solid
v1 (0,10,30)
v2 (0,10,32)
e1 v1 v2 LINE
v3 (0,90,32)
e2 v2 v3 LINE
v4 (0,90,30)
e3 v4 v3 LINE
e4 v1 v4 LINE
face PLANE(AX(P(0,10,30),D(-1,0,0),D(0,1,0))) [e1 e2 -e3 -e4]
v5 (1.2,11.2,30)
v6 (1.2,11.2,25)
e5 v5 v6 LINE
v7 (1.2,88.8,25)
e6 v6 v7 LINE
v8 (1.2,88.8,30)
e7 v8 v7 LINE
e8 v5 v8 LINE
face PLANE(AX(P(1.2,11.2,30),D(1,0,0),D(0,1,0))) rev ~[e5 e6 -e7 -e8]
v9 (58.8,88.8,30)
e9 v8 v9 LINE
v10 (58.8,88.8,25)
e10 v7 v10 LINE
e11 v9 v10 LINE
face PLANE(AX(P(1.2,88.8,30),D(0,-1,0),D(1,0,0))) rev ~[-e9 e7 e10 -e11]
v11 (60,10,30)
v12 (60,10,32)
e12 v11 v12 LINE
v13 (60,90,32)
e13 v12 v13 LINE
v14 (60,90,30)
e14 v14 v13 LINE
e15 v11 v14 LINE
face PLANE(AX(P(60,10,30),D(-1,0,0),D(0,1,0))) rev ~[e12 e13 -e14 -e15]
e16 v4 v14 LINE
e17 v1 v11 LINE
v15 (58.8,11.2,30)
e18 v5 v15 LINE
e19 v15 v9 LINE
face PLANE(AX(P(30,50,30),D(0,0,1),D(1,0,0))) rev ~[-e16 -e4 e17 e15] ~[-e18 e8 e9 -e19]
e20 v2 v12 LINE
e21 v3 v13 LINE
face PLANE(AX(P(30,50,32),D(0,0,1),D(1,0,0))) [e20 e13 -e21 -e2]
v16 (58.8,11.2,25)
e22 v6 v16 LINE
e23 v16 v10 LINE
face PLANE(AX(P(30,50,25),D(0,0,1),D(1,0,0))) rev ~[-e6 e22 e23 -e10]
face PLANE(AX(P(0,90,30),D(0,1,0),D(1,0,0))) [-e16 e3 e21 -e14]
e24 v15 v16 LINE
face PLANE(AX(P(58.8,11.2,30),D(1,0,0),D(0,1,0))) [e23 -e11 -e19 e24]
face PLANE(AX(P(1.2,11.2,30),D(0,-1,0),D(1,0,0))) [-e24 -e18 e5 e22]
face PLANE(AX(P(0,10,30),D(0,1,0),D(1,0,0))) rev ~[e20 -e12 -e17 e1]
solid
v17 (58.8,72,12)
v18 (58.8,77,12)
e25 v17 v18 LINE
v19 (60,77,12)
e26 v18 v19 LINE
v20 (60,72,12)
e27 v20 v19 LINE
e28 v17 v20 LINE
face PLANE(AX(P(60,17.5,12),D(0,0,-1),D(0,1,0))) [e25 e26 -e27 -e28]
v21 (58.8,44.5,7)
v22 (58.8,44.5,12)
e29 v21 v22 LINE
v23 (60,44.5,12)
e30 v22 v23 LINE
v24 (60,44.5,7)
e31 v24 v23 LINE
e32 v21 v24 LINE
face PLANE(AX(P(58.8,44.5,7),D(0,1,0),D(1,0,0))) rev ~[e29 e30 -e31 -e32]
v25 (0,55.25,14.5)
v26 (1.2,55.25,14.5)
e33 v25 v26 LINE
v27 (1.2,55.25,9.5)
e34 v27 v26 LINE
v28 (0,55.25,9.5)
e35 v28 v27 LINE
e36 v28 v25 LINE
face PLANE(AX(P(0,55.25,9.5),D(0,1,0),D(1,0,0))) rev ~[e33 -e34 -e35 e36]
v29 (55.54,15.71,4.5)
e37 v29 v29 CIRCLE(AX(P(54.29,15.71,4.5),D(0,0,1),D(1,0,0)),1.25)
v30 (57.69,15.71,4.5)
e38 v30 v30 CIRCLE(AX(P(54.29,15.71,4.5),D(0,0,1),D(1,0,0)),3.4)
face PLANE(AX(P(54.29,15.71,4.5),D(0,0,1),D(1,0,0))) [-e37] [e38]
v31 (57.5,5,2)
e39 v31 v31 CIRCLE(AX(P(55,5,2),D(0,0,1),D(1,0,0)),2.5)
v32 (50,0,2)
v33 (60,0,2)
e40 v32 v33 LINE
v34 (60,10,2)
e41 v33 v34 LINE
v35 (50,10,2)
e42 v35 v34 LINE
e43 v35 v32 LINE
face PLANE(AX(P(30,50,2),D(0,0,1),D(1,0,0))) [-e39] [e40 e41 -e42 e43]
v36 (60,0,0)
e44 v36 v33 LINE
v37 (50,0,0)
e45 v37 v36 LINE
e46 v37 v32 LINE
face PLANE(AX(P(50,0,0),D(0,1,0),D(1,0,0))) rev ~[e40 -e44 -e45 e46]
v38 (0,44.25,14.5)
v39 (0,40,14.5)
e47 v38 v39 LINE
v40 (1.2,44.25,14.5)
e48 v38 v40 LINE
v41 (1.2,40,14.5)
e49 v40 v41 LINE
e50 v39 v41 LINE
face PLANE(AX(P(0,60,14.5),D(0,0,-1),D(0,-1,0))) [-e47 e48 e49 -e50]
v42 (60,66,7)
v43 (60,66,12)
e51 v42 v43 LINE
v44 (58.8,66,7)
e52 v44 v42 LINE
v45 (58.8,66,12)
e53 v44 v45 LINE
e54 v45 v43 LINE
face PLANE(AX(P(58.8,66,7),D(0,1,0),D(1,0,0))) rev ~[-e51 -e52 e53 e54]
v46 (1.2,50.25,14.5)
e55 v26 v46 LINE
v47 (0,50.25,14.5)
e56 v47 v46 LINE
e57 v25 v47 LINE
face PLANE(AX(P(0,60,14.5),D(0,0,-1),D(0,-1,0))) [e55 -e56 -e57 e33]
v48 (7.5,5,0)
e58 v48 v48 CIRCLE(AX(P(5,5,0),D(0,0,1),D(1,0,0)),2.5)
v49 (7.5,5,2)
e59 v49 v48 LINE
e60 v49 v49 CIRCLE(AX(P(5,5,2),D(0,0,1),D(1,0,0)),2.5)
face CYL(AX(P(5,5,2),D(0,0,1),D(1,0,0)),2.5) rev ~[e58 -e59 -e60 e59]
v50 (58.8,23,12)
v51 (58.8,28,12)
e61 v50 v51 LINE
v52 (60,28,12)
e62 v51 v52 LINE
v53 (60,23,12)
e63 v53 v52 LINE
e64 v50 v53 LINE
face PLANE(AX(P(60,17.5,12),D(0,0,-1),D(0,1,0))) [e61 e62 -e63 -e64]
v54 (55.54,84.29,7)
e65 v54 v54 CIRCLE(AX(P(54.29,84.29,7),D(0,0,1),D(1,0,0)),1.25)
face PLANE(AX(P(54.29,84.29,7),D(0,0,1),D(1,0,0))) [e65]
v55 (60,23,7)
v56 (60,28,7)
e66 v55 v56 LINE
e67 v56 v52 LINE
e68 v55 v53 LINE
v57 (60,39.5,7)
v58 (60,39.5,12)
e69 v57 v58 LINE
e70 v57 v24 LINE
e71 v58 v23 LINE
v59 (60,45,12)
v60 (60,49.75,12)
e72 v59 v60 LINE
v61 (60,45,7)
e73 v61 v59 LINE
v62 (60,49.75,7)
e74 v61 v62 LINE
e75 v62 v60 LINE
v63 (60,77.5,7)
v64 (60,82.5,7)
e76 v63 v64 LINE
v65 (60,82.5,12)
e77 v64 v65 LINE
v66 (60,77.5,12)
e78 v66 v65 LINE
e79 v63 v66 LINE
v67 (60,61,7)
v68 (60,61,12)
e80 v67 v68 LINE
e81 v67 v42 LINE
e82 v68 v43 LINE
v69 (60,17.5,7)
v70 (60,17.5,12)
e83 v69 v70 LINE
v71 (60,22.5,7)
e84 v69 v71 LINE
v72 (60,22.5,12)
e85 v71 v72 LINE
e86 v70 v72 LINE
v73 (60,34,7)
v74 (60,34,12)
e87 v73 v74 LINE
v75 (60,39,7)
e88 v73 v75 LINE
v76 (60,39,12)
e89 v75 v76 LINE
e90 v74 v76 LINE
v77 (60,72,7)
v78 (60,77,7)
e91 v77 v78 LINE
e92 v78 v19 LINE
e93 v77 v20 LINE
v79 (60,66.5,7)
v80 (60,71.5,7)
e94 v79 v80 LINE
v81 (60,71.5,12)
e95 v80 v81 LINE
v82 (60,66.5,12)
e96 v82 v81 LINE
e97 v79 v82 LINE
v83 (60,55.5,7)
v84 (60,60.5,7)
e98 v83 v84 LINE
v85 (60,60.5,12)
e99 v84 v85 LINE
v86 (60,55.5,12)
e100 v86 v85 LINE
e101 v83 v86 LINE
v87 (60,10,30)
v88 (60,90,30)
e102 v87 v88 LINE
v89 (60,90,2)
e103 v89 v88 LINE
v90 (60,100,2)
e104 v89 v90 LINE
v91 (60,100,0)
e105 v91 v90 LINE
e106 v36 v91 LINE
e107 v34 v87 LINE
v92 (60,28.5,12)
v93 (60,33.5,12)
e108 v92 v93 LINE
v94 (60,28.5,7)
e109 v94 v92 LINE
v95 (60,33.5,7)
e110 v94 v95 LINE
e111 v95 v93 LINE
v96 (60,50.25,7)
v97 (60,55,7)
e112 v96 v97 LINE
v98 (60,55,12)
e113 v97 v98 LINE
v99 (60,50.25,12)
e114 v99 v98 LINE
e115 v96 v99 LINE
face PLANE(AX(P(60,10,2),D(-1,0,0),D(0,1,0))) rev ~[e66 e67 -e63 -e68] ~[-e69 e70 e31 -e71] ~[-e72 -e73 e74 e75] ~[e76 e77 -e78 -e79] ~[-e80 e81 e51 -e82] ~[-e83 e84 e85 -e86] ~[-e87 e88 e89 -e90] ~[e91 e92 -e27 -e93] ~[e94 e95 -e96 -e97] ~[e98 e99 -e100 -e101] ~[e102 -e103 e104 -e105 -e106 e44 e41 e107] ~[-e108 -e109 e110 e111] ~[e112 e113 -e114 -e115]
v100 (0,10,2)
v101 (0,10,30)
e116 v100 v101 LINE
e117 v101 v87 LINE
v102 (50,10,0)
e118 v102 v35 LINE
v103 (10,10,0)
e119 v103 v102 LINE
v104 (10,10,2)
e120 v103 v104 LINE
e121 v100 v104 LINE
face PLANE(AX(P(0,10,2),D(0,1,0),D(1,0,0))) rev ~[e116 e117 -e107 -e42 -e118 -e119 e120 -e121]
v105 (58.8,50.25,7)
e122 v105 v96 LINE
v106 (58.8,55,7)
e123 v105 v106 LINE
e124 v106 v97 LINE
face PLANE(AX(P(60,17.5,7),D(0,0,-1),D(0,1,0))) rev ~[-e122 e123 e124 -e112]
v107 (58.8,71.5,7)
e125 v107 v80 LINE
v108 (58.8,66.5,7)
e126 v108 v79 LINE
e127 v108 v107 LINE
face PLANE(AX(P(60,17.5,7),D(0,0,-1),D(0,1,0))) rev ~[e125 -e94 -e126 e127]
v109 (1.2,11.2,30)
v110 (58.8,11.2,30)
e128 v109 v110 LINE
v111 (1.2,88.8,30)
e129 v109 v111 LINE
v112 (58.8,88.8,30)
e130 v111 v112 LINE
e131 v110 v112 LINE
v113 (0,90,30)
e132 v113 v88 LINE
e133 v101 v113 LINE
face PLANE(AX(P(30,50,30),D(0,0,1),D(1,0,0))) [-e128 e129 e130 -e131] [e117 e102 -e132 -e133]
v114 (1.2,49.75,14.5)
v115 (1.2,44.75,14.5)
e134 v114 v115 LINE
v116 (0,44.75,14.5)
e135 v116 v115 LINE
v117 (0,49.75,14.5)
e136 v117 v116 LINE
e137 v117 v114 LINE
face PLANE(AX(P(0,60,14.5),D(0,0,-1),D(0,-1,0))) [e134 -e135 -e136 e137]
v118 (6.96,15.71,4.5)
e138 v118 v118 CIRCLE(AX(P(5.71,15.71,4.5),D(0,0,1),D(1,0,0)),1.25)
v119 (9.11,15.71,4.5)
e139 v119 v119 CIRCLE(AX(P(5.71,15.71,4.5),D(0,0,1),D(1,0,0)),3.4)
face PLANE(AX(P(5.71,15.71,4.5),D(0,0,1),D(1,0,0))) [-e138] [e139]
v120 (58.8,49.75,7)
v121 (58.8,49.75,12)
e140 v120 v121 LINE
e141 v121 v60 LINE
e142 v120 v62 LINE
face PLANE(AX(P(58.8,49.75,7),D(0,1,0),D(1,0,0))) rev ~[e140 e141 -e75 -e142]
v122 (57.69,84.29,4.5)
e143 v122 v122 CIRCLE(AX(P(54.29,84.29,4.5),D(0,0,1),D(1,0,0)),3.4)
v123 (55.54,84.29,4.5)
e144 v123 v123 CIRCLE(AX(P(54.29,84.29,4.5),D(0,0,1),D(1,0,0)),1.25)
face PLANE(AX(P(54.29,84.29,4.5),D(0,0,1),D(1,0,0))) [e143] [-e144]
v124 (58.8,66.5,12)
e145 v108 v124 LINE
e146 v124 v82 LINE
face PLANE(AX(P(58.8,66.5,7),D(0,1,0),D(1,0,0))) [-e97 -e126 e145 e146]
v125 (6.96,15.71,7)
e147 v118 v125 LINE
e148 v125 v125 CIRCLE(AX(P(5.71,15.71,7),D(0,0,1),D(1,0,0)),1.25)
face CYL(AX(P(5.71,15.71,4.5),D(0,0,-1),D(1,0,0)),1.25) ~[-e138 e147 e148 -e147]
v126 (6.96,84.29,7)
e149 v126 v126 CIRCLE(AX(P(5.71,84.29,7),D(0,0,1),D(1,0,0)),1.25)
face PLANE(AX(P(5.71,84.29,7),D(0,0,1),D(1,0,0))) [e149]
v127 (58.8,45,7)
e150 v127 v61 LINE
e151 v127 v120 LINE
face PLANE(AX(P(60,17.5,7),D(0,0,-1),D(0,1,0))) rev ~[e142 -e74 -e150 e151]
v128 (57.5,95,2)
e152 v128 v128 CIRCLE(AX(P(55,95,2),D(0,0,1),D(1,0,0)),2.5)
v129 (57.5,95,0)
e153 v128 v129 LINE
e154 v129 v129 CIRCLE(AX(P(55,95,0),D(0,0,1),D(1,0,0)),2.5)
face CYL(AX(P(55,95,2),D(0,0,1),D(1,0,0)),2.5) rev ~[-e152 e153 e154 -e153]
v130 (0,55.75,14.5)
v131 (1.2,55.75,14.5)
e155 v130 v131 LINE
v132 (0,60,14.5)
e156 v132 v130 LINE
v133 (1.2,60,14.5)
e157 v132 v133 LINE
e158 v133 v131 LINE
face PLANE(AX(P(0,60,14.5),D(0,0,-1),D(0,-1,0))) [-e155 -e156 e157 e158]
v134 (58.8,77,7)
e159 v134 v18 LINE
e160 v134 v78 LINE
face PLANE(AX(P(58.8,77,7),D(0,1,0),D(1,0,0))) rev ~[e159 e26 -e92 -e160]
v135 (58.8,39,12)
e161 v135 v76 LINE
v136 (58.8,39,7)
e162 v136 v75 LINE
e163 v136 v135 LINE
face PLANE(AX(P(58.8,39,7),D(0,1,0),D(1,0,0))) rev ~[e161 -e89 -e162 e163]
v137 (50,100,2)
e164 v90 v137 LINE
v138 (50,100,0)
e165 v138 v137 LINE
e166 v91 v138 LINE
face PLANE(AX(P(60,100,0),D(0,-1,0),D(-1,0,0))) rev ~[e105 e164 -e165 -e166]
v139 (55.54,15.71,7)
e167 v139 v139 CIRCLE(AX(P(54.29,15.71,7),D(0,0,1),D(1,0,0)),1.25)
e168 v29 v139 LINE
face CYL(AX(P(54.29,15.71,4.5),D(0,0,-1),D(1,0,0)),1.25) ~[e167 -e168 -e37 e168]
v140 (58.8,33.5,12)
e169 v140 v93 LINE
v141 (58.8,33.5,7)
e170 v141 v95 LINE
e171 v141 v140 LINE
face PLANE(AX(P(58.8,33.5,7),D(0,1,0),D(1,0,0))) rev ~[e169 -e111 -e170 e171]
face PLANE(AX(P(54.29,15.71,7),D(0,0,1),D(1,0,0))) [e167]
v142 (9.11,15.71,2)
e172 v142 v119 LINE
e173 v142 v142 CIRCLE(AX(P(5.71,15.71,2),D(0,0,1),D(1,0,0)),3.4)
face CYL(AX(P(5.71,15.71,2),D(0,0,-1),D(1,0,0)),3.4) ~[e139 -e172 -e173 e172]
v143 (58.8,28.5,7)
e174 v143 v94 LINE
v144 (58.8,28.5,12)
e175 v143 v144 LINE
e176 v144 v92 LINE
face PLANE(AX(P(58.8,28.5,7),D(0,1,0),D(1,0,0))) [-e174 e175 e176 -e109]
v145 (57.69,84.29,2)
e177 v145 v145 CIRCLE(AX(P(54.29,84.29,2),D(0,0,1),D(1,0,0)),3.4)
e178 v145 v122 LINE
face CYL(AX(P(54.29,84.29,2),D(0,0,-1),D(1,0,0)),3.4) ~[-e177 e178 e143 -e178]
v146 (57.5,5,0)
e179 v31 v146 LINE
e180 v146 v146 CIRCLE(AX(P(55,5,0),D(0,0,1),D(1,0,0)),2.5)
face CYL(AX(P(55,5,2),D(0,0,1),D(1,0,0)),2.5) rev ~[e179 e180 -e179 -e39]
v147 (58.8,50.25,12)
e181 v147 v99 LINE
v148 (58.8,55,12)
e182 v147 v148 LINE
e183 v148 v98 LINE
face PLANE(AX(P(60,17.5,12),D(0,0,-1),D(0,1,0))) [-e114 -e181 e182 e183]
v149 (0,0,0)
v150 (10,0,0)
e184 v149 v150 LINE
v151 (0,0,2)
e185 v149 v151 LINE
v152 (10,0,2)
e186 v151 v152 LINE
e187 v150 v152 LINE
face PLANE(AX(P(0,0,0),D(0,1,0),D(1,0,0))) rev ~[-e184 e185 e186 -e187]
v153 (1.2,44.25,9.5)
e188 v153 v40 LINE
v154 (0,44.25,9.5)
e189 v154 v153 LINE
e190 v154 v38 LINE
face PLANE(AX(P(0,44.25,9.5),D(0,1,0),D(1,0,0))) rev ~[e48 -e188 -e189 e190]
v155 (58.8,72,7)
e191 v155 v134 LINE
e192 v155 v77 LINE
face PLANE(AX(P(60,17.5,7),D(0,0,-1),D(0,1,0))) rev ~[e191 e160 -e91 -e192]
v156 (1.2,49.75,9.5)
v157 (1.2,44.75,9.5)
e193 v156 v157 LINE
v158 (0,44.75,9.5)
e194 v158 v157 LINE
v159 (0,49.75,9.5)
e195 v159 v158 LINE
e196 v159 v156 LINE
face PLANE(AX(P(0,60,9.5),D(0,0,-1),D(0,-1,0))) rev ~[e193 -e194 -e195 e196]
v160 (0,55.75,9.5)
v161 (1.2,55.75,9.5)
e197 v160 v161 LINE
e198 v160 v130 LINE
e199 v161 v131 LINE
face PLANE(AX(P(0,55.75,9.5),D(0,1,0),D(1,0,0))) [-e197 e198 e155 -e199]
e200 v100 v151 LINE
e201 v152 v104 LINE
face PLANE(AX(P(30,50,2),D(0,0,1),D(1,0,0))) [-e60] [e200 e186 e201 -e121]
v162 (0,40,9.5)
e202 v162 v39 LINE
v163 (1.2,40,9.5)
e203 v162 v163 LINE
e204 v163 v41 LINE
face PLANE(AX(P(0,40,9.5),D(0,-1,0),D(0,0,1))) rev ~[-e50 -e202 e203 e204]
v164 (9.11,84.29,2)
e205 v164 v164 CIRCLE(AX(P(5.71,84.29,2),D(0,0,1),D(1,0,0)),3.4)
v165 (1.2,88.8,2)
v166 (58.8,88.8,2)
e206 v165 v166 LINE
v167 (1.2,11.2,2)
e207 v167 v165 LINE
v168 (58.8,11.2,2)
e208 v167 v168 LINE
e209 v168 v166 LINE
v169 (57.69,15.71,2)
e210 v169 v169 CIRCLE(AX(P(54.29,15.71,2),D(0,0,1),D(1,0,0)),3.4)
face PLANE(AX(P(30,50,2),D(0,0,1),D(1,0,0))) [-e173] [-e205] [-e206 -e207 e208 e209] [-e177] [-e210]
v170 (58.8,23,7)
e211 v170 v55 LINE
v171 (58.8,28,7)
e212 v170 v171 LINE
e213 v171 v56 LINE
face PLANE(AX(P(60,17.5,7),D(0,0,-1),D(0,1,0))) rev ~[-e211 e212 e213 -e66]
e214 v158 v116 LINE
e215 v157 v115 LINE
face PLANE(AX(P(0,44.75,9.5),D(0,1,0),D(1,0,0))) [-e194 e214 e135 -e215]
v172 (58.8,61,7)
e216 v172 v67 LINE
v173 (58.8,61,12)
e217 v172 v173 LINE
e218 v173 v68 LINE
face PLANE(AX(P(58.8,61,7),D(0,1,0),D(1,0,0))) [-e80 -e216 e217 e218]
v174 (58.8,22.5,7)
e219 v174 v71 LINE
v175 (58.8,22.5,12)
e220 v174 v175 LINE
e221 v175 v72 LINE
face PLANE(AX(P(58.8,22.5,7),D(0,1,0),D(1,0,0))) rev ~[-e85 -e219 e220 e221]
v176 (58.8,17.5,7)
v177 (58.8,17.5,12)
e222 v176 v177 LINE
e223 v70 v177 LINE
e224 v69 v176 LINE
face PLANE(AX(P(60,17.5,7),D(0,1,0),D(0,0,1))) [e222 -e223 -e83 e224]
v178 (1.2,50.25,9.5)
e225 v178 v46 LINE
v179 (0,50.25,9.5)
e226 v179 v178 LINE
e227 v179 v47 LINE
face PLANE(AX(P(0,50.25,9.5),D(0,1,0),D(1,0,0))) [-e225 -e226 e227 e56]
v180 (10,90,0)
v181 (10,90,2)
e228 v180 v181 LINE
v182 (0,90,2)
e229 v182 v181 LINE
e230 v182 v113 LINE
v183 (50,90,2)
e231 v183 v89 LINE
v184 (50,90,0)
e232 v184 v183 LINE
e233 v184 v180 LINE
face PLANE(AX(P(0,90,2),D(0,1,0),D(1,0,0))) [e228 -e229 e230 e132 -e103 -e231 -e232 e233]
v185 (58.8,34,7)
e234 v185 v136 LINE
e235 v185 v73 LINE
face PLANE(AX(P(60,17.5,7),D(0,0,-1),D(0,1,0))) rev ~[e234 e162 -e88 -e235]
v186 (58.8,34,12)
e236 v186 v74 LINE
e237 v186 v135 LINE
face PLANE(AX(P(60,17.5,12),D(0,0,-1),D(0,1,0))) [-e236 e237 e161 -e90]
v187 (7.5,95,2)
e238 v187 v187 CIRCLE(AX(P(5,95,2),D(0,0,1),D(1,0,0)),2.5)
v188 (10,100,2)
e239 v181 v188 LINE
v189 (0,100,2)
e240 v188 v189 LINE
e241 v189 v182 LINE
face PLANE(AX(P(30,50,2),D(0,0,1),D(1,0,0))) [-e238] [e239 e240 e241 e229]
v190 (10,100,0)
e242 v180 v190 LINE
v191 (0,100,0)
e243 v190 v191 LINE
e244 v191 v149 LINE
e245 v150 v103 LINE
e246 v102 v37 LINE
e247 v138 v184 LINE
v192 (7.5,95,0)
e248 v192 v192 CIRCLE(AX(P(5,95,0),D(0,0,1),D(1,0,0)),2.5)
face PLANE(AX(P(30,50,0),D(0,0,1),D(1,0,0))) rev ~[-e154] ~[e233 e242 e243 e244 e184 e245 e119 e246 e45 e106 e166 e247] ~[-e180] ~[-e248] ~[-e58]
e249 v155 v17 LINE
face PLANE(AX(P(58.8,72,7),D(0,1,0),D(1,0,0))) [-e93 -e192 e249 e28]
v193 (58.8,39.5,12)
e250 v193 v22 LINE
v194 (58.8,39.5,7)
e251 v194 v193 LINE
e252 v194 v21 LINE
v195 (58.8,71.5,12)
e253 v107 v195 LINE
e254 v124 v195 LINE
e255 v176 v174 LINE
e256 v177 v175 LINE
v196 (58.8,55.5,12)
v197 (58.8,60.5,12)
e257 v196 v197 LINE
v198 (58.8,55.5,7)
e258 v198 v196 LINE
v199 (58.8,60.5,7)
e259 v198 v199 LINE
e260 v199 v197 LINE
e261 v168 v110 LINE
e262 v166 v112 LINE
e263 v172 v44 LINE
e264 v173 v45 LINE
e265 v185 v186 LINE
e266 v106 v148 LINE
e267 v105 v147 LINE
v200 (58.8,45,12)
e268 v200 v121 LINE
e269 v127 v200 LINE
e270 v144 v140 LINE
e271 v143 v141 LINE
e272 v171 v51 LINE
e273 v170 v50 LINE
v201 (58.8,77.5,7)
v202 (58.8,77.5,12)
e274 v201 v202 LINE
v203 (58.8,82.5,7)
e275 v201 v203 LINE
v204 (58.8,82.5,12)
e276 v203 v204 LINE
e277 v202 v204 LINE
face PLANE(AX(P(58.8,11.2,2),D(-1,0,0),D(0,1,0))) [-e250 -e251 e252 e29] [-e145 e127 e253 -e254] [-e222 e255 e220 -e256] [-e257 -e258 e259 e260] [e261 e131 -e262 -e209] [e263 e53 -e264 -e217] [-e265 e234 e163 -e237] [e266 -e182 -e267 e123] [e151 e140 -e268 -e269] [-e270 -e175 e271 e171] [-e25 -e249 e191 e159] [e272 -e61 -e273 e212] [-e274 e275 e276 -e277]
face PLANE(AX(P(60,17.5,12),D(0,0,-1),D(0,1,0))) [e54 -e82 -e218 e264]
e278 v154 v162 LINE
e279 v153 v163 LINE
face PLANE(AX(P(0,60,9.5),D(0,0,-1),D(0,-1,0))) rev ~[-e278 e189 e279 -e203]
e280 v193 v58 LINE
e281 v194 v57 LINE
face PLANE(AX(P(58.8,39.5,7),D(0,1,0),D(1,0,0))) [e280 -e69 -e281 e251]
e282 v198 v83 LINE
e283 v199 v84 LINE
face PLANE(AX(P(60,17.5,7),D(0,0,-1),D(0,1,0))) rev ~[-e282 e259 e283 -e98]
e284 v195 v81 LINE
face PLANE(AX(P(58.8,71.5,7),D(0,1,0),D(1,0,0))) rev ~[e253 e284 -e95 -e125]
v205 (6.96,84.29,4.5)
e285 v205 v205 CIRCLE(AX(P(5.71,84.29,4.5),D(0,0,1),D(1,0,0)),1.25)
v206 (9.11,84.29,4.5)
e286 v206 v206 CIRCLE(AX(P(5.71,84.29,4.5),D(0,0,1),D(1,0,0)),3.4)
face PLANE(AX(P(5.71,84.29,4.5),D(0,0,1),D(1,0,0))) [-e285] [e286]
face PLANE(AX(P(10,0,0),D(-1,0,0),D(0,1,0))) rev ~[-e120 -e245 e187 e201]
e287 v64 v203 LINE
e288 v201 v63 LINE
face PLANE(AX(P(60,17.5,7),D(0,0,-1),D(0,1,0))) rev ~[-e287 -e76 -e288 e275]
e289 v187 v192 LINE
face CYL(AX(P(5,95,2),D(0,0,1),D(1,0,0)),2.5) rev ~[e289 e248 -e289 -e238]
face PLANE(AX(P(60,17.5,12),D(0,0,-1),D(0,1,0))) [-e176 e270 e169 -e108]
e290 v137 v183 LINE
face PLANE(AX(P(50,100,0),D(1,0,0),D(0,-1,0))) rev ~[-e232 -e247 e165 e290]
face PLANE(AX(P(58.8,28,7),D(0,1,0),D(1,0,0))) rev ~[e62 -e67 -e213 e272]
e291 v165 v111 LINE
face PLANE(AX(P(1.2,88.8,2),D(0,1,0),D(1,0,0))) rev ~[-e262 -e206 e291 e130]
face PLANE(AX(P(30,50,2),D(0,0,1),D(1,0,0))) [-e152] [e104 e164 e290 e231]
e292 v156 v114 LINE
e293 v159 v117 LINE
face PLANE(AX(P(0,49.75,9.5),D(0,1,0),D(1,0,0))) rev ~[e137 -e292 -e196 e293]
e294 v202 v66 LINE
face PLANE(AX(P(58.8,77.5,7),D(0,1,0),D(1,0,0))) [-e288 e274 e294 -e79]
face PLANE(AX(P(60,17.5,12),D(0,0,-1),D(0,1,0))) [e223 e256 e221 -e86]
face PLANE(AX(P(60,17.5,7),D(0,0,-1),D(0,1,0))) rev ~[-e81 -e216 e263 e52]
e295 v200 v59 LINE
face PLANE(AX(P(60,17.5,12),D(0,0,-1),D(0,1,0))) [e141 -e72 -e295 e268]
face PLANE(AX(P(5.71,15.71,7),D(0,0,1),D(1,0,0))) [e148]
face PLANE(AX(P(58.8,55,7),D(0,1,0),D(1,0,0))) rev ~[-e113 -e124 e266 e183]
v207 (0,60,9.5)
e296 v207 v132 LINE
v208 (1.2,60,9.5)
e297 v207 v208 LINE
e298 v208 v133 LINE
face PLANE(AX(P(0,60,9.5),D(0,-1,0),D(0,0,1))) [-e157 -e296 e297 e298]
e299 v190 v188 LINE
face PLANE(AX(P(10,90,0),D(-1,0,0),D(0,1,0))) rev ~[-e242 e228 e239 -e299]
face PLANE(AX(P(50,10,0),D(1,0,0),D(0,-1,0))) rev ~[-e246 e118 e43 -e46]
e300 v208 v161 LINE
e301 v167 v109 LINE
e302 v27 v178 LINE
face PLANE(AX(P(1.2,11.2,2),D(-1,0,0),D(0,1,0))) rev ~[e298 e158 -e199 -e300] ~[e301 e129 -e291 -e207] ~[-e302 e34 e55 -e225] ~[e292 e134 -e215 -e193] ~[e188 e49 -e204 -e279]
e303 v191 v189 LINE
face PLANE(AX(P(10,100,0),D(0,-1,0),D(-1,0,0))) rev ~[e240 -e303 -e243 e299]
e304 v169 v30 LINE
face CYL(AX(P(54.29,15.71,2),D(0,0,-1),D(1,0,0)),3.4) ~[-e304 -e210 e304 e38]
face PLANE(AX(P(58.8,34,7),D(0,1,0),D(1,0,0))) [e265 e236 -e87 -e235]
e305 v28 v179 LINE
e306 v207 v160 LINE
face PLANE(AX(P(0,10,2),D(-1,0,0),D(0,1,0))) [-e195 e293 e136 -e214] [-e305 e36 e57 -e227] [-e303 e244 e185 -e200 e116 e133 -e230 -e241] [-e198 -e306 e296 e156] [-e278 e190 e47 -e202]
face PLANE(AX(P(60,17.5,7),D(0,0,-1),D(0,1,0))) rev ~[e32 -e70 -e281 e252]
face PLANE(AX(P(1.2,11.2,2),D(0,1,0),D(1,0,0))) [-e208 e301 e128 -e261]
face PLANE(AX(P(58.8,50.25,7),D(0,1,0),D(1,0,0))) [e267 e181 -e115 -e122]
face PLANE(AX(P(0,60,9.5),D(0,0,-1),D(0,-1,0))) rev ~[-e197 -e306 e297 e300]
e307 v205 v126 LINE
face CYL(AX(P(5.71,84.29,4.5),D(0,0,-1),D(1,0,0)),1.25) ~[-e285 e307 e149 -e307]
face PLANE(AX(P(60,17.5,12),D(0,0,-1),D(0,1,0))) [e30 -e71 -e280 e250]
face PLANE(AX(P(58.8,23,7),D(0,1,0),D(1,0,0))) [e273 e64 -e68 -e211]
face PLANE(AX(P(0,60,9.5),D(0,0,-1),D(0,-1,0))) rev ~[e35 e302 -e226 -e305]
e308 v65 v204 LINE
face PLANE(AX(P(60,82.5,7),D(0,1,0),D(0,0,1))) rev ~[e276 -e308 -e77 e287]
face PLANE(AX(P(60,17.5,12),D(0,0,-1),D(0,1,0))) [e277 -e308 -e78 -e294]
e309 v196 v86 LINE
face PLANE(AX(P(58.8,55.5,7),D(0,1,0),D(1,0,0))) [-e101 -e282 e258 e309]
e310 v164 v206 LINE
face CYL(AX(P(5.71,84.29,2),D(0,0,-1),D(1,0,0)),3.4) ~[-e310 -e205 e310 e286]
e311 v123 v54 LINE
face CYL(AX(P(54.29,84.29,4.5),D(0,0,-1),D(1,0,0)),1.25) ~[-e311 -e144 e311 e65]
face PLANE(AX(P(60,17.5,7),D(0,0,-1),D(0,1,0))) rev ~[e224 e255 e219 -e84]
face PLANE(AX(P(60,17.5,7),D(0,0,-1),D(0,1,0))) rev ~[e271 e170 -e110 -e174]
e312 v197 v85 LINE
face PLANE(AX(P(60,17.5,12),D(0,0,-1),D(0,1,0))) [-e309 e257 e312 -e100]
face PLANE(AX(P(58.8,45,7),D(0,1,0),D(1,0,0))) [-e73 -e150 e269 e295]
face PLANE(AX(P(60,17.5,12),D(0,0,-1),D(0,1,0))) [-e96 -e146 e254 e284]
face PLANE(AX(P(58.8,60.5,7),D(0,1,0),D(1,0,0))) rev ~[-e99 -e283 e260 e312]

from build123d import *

# Parameters (mm, degrees)
F1_DEPTH  = 2
F2_W      = 60
F2_H      = 80
F2_W_2    = 57.6
F2_H_2    = 77.6
F3_DEPTH  = 28
F7_R      = 2.5
F6_R      = 2.5
F5_R      = 2.5
F4_R      = 2.5
F8_DEPTH  = 2
F9_R      = 3.4
F10_DEPTH = 2.5
F14_R     = 1.25
F13_R     = 1.25
F11_R     = 1.25
F12_R     = 1.25
F15_DEPTH = 2.5
F16_W     = 65
F16_H     = 5
F17_DEPTH = 1.2
F18_W     = 1.2
F18_H     = 0.5
F19_DEPTH = 5
F20_W     = 20
F20_H     = 5
F21_DEPTH = 1.2
F22_W     = 60
F22_H     = 80
F23_DEPTH = 2
F24_W     = 57.6
F24_H     = 77.6
F25_DEPTH = 5
F26_W     = 1.2
F26_H     = 0.5
F27_DEPTH = 5


with BuildPart() as f1:
    # F0 (on Top) → F1 (new body)
    with BuildSketch(Plane.XY):
        Polygon((0, 100), (0, 0), (10, 0), (10, 10), (50, 10), (50, 0), (60, 0), (60, 100), (50, 100), (50, 90), (10, 90), (10, 100), align=None)
    extrude(amount=F1_DEPTH)

    # F2 (on face) → F3 (join)
    with BuildSketch(Plane.XY.offset(2)):
        with Locations((30, 50)):
            Rectangle(F2_W, F2_H)
        with Locations((30, 50)):
            Rectangle(F2_W_2, F2_H_2, mode=Mode.SUBTRACT)
    extrude(amount=F3_DEPTH)

    # F7 (on face) + F6 (on face) + F5 (on face) + F4 (on face) → F8 (cut, through all)
    with BuildSketch(Plane.XY.offset(2)):
        with Locations((5, 95)):
            Circle(F7_R)
    with BuildSketch(Plane.XY.offset(2)):
        with Locations((55, 95)):
            Circle(F6_R)
    with BuildSketch(Plane.XY.offset(2)):
        with Locations((55, 5)):
            Circle(F5_R)
    with BuildSketch(Plane.XY.offset(2)):
        with Locations((5, 5)):
            Circle(F4_R)
    extrude(amount=-F8_DEPTH, mode=Mode.SUBTRACT)

    # F9 (on face) → F10 (join)
    with BuildSketch(Plane.XY.offset(2)):
        with Locations((5.71, 15.71)):
            Circle(F9_R)
        with Locations((5.71, 84.29)):
            Circle(F9_R)
        with Locations((54.29, 15.71)):
            Circle(F9_R)
        with Locations((54.29, 84.29)):
            Circle(F9_R)
    extrude(amount=F10_DEPTH)

    # F14 (on face) + F13 (on face) + F11 (on face) + F12 (on face) → F15 (join)
    with BuildSketch(Plane.XY.offset(4.5)):
        with Locations((5.71, 84.29)):
            Circle(F14_R)
    with BuildSketch(Plane.XY.offset(4.5)):
        with Locations((54.29, 84.29)):
            Circle(F13_R)
    with BuildSketch(Plane.XY.offset(4.5)):
        with Locations((5.71, 15.71)):
            Circle(F11_R)
    with BuildSketch(Plane.XY.offset(4.5)):
        with Locations((54.29, 15.71)):
            Circle(F12_R)
    extrude(amount=F15_DEPTH)

    # F16 (on face) → F17 (cut, through all)
    with BuildSketch(Plane.YZ.offset(60)):
        with Locations((50, 9.5)):
            Rectangle(F16_W, F16_H)
    extrude(amount=-F17_DEPTH, mode=Mode.SUBTRACT)

    # F18 (on face) → F19 (join, through all)
    with BuildSketch(Plane.XY.offset(7)):
        with Locations((59.4, 50)):
            Rectangle(F18_W, F18_H)
        with Locations((59.4, 44.75)):
            Rectangle(F18_W, F18_H)
        with Locations((59.4, 39.25)):
            Rectangle(F18_W, F18_H)
        with Locations((59.4, 33.75)):
            Rectangle(F18_W, F18_H)
        with Locations((59.4, 28.25)):
            Rectangle(F18_W, F18_H)
        with Locations((59.4, 22.75)):
            Rectangle(F18_W, F18_H)
        with Locations((59.4, 60.75)):
            Rectangle(F18_W, F18_H)
        with Locations((59.4, 55.25)):
            Rectangle(F18_W, F18_H)
        with Locations((59.4, 66.25)):
            Rectangle(F18_W, F18_H)
        with Locations((59.4, 71.75)):
            Rectangle(F18_W, F18_H)
        with Locations((59.4, 77.25)):
            Rectangle(F18_W, F18_H)
    extrude(amount=F19_DEPTH)

    # F20 (on face) → F21 (cut, through all)
    with BuildSketch(Plane(origin=(0, 0, 0), x_dir=(0, -1, 0), z_dir=(-1, 0, 0))):
        with Locations((-50, 12)):
            Rectangle(F20_W, F20_H)
    extrude(amount=-F21_DEPTH, mode=Mode.SUBTRACT)

    # F26 (on face) → F27 (join, through all)
    with BuildSketch(Plane.XY.offset(9.5)):
        with Locations((0.6, 50)):
            Rectangle(F26_W, F26_H)
        with Locations((0.6, 44.5)):
            Rectangle(F26_W, F26_H)
        with Locations((0.6, 55.5)):
            Rectangle(F26_W, F26_H)
    extrude(amount=F27_DEPTH)


with BuildPart() as f23:
    # F22 (on face) → F23 (new body)
    with BuildSketch(Plane.XY.offset(30)):
        with Locations((30, 50)):
            Rectangle(F22_W, F22_H)
    extrude(amount=F23_DEPTH)

    # F24 (on face) → F25 (join)
    with BuildSketch(Plane.XY.offset(30)):
        with Locations((30, 50)):
            Rectangle(F24_W, F24_H)
    extrude(amount=-F25_DEPTH)


solid = Compound([f1.part, f23.part])
